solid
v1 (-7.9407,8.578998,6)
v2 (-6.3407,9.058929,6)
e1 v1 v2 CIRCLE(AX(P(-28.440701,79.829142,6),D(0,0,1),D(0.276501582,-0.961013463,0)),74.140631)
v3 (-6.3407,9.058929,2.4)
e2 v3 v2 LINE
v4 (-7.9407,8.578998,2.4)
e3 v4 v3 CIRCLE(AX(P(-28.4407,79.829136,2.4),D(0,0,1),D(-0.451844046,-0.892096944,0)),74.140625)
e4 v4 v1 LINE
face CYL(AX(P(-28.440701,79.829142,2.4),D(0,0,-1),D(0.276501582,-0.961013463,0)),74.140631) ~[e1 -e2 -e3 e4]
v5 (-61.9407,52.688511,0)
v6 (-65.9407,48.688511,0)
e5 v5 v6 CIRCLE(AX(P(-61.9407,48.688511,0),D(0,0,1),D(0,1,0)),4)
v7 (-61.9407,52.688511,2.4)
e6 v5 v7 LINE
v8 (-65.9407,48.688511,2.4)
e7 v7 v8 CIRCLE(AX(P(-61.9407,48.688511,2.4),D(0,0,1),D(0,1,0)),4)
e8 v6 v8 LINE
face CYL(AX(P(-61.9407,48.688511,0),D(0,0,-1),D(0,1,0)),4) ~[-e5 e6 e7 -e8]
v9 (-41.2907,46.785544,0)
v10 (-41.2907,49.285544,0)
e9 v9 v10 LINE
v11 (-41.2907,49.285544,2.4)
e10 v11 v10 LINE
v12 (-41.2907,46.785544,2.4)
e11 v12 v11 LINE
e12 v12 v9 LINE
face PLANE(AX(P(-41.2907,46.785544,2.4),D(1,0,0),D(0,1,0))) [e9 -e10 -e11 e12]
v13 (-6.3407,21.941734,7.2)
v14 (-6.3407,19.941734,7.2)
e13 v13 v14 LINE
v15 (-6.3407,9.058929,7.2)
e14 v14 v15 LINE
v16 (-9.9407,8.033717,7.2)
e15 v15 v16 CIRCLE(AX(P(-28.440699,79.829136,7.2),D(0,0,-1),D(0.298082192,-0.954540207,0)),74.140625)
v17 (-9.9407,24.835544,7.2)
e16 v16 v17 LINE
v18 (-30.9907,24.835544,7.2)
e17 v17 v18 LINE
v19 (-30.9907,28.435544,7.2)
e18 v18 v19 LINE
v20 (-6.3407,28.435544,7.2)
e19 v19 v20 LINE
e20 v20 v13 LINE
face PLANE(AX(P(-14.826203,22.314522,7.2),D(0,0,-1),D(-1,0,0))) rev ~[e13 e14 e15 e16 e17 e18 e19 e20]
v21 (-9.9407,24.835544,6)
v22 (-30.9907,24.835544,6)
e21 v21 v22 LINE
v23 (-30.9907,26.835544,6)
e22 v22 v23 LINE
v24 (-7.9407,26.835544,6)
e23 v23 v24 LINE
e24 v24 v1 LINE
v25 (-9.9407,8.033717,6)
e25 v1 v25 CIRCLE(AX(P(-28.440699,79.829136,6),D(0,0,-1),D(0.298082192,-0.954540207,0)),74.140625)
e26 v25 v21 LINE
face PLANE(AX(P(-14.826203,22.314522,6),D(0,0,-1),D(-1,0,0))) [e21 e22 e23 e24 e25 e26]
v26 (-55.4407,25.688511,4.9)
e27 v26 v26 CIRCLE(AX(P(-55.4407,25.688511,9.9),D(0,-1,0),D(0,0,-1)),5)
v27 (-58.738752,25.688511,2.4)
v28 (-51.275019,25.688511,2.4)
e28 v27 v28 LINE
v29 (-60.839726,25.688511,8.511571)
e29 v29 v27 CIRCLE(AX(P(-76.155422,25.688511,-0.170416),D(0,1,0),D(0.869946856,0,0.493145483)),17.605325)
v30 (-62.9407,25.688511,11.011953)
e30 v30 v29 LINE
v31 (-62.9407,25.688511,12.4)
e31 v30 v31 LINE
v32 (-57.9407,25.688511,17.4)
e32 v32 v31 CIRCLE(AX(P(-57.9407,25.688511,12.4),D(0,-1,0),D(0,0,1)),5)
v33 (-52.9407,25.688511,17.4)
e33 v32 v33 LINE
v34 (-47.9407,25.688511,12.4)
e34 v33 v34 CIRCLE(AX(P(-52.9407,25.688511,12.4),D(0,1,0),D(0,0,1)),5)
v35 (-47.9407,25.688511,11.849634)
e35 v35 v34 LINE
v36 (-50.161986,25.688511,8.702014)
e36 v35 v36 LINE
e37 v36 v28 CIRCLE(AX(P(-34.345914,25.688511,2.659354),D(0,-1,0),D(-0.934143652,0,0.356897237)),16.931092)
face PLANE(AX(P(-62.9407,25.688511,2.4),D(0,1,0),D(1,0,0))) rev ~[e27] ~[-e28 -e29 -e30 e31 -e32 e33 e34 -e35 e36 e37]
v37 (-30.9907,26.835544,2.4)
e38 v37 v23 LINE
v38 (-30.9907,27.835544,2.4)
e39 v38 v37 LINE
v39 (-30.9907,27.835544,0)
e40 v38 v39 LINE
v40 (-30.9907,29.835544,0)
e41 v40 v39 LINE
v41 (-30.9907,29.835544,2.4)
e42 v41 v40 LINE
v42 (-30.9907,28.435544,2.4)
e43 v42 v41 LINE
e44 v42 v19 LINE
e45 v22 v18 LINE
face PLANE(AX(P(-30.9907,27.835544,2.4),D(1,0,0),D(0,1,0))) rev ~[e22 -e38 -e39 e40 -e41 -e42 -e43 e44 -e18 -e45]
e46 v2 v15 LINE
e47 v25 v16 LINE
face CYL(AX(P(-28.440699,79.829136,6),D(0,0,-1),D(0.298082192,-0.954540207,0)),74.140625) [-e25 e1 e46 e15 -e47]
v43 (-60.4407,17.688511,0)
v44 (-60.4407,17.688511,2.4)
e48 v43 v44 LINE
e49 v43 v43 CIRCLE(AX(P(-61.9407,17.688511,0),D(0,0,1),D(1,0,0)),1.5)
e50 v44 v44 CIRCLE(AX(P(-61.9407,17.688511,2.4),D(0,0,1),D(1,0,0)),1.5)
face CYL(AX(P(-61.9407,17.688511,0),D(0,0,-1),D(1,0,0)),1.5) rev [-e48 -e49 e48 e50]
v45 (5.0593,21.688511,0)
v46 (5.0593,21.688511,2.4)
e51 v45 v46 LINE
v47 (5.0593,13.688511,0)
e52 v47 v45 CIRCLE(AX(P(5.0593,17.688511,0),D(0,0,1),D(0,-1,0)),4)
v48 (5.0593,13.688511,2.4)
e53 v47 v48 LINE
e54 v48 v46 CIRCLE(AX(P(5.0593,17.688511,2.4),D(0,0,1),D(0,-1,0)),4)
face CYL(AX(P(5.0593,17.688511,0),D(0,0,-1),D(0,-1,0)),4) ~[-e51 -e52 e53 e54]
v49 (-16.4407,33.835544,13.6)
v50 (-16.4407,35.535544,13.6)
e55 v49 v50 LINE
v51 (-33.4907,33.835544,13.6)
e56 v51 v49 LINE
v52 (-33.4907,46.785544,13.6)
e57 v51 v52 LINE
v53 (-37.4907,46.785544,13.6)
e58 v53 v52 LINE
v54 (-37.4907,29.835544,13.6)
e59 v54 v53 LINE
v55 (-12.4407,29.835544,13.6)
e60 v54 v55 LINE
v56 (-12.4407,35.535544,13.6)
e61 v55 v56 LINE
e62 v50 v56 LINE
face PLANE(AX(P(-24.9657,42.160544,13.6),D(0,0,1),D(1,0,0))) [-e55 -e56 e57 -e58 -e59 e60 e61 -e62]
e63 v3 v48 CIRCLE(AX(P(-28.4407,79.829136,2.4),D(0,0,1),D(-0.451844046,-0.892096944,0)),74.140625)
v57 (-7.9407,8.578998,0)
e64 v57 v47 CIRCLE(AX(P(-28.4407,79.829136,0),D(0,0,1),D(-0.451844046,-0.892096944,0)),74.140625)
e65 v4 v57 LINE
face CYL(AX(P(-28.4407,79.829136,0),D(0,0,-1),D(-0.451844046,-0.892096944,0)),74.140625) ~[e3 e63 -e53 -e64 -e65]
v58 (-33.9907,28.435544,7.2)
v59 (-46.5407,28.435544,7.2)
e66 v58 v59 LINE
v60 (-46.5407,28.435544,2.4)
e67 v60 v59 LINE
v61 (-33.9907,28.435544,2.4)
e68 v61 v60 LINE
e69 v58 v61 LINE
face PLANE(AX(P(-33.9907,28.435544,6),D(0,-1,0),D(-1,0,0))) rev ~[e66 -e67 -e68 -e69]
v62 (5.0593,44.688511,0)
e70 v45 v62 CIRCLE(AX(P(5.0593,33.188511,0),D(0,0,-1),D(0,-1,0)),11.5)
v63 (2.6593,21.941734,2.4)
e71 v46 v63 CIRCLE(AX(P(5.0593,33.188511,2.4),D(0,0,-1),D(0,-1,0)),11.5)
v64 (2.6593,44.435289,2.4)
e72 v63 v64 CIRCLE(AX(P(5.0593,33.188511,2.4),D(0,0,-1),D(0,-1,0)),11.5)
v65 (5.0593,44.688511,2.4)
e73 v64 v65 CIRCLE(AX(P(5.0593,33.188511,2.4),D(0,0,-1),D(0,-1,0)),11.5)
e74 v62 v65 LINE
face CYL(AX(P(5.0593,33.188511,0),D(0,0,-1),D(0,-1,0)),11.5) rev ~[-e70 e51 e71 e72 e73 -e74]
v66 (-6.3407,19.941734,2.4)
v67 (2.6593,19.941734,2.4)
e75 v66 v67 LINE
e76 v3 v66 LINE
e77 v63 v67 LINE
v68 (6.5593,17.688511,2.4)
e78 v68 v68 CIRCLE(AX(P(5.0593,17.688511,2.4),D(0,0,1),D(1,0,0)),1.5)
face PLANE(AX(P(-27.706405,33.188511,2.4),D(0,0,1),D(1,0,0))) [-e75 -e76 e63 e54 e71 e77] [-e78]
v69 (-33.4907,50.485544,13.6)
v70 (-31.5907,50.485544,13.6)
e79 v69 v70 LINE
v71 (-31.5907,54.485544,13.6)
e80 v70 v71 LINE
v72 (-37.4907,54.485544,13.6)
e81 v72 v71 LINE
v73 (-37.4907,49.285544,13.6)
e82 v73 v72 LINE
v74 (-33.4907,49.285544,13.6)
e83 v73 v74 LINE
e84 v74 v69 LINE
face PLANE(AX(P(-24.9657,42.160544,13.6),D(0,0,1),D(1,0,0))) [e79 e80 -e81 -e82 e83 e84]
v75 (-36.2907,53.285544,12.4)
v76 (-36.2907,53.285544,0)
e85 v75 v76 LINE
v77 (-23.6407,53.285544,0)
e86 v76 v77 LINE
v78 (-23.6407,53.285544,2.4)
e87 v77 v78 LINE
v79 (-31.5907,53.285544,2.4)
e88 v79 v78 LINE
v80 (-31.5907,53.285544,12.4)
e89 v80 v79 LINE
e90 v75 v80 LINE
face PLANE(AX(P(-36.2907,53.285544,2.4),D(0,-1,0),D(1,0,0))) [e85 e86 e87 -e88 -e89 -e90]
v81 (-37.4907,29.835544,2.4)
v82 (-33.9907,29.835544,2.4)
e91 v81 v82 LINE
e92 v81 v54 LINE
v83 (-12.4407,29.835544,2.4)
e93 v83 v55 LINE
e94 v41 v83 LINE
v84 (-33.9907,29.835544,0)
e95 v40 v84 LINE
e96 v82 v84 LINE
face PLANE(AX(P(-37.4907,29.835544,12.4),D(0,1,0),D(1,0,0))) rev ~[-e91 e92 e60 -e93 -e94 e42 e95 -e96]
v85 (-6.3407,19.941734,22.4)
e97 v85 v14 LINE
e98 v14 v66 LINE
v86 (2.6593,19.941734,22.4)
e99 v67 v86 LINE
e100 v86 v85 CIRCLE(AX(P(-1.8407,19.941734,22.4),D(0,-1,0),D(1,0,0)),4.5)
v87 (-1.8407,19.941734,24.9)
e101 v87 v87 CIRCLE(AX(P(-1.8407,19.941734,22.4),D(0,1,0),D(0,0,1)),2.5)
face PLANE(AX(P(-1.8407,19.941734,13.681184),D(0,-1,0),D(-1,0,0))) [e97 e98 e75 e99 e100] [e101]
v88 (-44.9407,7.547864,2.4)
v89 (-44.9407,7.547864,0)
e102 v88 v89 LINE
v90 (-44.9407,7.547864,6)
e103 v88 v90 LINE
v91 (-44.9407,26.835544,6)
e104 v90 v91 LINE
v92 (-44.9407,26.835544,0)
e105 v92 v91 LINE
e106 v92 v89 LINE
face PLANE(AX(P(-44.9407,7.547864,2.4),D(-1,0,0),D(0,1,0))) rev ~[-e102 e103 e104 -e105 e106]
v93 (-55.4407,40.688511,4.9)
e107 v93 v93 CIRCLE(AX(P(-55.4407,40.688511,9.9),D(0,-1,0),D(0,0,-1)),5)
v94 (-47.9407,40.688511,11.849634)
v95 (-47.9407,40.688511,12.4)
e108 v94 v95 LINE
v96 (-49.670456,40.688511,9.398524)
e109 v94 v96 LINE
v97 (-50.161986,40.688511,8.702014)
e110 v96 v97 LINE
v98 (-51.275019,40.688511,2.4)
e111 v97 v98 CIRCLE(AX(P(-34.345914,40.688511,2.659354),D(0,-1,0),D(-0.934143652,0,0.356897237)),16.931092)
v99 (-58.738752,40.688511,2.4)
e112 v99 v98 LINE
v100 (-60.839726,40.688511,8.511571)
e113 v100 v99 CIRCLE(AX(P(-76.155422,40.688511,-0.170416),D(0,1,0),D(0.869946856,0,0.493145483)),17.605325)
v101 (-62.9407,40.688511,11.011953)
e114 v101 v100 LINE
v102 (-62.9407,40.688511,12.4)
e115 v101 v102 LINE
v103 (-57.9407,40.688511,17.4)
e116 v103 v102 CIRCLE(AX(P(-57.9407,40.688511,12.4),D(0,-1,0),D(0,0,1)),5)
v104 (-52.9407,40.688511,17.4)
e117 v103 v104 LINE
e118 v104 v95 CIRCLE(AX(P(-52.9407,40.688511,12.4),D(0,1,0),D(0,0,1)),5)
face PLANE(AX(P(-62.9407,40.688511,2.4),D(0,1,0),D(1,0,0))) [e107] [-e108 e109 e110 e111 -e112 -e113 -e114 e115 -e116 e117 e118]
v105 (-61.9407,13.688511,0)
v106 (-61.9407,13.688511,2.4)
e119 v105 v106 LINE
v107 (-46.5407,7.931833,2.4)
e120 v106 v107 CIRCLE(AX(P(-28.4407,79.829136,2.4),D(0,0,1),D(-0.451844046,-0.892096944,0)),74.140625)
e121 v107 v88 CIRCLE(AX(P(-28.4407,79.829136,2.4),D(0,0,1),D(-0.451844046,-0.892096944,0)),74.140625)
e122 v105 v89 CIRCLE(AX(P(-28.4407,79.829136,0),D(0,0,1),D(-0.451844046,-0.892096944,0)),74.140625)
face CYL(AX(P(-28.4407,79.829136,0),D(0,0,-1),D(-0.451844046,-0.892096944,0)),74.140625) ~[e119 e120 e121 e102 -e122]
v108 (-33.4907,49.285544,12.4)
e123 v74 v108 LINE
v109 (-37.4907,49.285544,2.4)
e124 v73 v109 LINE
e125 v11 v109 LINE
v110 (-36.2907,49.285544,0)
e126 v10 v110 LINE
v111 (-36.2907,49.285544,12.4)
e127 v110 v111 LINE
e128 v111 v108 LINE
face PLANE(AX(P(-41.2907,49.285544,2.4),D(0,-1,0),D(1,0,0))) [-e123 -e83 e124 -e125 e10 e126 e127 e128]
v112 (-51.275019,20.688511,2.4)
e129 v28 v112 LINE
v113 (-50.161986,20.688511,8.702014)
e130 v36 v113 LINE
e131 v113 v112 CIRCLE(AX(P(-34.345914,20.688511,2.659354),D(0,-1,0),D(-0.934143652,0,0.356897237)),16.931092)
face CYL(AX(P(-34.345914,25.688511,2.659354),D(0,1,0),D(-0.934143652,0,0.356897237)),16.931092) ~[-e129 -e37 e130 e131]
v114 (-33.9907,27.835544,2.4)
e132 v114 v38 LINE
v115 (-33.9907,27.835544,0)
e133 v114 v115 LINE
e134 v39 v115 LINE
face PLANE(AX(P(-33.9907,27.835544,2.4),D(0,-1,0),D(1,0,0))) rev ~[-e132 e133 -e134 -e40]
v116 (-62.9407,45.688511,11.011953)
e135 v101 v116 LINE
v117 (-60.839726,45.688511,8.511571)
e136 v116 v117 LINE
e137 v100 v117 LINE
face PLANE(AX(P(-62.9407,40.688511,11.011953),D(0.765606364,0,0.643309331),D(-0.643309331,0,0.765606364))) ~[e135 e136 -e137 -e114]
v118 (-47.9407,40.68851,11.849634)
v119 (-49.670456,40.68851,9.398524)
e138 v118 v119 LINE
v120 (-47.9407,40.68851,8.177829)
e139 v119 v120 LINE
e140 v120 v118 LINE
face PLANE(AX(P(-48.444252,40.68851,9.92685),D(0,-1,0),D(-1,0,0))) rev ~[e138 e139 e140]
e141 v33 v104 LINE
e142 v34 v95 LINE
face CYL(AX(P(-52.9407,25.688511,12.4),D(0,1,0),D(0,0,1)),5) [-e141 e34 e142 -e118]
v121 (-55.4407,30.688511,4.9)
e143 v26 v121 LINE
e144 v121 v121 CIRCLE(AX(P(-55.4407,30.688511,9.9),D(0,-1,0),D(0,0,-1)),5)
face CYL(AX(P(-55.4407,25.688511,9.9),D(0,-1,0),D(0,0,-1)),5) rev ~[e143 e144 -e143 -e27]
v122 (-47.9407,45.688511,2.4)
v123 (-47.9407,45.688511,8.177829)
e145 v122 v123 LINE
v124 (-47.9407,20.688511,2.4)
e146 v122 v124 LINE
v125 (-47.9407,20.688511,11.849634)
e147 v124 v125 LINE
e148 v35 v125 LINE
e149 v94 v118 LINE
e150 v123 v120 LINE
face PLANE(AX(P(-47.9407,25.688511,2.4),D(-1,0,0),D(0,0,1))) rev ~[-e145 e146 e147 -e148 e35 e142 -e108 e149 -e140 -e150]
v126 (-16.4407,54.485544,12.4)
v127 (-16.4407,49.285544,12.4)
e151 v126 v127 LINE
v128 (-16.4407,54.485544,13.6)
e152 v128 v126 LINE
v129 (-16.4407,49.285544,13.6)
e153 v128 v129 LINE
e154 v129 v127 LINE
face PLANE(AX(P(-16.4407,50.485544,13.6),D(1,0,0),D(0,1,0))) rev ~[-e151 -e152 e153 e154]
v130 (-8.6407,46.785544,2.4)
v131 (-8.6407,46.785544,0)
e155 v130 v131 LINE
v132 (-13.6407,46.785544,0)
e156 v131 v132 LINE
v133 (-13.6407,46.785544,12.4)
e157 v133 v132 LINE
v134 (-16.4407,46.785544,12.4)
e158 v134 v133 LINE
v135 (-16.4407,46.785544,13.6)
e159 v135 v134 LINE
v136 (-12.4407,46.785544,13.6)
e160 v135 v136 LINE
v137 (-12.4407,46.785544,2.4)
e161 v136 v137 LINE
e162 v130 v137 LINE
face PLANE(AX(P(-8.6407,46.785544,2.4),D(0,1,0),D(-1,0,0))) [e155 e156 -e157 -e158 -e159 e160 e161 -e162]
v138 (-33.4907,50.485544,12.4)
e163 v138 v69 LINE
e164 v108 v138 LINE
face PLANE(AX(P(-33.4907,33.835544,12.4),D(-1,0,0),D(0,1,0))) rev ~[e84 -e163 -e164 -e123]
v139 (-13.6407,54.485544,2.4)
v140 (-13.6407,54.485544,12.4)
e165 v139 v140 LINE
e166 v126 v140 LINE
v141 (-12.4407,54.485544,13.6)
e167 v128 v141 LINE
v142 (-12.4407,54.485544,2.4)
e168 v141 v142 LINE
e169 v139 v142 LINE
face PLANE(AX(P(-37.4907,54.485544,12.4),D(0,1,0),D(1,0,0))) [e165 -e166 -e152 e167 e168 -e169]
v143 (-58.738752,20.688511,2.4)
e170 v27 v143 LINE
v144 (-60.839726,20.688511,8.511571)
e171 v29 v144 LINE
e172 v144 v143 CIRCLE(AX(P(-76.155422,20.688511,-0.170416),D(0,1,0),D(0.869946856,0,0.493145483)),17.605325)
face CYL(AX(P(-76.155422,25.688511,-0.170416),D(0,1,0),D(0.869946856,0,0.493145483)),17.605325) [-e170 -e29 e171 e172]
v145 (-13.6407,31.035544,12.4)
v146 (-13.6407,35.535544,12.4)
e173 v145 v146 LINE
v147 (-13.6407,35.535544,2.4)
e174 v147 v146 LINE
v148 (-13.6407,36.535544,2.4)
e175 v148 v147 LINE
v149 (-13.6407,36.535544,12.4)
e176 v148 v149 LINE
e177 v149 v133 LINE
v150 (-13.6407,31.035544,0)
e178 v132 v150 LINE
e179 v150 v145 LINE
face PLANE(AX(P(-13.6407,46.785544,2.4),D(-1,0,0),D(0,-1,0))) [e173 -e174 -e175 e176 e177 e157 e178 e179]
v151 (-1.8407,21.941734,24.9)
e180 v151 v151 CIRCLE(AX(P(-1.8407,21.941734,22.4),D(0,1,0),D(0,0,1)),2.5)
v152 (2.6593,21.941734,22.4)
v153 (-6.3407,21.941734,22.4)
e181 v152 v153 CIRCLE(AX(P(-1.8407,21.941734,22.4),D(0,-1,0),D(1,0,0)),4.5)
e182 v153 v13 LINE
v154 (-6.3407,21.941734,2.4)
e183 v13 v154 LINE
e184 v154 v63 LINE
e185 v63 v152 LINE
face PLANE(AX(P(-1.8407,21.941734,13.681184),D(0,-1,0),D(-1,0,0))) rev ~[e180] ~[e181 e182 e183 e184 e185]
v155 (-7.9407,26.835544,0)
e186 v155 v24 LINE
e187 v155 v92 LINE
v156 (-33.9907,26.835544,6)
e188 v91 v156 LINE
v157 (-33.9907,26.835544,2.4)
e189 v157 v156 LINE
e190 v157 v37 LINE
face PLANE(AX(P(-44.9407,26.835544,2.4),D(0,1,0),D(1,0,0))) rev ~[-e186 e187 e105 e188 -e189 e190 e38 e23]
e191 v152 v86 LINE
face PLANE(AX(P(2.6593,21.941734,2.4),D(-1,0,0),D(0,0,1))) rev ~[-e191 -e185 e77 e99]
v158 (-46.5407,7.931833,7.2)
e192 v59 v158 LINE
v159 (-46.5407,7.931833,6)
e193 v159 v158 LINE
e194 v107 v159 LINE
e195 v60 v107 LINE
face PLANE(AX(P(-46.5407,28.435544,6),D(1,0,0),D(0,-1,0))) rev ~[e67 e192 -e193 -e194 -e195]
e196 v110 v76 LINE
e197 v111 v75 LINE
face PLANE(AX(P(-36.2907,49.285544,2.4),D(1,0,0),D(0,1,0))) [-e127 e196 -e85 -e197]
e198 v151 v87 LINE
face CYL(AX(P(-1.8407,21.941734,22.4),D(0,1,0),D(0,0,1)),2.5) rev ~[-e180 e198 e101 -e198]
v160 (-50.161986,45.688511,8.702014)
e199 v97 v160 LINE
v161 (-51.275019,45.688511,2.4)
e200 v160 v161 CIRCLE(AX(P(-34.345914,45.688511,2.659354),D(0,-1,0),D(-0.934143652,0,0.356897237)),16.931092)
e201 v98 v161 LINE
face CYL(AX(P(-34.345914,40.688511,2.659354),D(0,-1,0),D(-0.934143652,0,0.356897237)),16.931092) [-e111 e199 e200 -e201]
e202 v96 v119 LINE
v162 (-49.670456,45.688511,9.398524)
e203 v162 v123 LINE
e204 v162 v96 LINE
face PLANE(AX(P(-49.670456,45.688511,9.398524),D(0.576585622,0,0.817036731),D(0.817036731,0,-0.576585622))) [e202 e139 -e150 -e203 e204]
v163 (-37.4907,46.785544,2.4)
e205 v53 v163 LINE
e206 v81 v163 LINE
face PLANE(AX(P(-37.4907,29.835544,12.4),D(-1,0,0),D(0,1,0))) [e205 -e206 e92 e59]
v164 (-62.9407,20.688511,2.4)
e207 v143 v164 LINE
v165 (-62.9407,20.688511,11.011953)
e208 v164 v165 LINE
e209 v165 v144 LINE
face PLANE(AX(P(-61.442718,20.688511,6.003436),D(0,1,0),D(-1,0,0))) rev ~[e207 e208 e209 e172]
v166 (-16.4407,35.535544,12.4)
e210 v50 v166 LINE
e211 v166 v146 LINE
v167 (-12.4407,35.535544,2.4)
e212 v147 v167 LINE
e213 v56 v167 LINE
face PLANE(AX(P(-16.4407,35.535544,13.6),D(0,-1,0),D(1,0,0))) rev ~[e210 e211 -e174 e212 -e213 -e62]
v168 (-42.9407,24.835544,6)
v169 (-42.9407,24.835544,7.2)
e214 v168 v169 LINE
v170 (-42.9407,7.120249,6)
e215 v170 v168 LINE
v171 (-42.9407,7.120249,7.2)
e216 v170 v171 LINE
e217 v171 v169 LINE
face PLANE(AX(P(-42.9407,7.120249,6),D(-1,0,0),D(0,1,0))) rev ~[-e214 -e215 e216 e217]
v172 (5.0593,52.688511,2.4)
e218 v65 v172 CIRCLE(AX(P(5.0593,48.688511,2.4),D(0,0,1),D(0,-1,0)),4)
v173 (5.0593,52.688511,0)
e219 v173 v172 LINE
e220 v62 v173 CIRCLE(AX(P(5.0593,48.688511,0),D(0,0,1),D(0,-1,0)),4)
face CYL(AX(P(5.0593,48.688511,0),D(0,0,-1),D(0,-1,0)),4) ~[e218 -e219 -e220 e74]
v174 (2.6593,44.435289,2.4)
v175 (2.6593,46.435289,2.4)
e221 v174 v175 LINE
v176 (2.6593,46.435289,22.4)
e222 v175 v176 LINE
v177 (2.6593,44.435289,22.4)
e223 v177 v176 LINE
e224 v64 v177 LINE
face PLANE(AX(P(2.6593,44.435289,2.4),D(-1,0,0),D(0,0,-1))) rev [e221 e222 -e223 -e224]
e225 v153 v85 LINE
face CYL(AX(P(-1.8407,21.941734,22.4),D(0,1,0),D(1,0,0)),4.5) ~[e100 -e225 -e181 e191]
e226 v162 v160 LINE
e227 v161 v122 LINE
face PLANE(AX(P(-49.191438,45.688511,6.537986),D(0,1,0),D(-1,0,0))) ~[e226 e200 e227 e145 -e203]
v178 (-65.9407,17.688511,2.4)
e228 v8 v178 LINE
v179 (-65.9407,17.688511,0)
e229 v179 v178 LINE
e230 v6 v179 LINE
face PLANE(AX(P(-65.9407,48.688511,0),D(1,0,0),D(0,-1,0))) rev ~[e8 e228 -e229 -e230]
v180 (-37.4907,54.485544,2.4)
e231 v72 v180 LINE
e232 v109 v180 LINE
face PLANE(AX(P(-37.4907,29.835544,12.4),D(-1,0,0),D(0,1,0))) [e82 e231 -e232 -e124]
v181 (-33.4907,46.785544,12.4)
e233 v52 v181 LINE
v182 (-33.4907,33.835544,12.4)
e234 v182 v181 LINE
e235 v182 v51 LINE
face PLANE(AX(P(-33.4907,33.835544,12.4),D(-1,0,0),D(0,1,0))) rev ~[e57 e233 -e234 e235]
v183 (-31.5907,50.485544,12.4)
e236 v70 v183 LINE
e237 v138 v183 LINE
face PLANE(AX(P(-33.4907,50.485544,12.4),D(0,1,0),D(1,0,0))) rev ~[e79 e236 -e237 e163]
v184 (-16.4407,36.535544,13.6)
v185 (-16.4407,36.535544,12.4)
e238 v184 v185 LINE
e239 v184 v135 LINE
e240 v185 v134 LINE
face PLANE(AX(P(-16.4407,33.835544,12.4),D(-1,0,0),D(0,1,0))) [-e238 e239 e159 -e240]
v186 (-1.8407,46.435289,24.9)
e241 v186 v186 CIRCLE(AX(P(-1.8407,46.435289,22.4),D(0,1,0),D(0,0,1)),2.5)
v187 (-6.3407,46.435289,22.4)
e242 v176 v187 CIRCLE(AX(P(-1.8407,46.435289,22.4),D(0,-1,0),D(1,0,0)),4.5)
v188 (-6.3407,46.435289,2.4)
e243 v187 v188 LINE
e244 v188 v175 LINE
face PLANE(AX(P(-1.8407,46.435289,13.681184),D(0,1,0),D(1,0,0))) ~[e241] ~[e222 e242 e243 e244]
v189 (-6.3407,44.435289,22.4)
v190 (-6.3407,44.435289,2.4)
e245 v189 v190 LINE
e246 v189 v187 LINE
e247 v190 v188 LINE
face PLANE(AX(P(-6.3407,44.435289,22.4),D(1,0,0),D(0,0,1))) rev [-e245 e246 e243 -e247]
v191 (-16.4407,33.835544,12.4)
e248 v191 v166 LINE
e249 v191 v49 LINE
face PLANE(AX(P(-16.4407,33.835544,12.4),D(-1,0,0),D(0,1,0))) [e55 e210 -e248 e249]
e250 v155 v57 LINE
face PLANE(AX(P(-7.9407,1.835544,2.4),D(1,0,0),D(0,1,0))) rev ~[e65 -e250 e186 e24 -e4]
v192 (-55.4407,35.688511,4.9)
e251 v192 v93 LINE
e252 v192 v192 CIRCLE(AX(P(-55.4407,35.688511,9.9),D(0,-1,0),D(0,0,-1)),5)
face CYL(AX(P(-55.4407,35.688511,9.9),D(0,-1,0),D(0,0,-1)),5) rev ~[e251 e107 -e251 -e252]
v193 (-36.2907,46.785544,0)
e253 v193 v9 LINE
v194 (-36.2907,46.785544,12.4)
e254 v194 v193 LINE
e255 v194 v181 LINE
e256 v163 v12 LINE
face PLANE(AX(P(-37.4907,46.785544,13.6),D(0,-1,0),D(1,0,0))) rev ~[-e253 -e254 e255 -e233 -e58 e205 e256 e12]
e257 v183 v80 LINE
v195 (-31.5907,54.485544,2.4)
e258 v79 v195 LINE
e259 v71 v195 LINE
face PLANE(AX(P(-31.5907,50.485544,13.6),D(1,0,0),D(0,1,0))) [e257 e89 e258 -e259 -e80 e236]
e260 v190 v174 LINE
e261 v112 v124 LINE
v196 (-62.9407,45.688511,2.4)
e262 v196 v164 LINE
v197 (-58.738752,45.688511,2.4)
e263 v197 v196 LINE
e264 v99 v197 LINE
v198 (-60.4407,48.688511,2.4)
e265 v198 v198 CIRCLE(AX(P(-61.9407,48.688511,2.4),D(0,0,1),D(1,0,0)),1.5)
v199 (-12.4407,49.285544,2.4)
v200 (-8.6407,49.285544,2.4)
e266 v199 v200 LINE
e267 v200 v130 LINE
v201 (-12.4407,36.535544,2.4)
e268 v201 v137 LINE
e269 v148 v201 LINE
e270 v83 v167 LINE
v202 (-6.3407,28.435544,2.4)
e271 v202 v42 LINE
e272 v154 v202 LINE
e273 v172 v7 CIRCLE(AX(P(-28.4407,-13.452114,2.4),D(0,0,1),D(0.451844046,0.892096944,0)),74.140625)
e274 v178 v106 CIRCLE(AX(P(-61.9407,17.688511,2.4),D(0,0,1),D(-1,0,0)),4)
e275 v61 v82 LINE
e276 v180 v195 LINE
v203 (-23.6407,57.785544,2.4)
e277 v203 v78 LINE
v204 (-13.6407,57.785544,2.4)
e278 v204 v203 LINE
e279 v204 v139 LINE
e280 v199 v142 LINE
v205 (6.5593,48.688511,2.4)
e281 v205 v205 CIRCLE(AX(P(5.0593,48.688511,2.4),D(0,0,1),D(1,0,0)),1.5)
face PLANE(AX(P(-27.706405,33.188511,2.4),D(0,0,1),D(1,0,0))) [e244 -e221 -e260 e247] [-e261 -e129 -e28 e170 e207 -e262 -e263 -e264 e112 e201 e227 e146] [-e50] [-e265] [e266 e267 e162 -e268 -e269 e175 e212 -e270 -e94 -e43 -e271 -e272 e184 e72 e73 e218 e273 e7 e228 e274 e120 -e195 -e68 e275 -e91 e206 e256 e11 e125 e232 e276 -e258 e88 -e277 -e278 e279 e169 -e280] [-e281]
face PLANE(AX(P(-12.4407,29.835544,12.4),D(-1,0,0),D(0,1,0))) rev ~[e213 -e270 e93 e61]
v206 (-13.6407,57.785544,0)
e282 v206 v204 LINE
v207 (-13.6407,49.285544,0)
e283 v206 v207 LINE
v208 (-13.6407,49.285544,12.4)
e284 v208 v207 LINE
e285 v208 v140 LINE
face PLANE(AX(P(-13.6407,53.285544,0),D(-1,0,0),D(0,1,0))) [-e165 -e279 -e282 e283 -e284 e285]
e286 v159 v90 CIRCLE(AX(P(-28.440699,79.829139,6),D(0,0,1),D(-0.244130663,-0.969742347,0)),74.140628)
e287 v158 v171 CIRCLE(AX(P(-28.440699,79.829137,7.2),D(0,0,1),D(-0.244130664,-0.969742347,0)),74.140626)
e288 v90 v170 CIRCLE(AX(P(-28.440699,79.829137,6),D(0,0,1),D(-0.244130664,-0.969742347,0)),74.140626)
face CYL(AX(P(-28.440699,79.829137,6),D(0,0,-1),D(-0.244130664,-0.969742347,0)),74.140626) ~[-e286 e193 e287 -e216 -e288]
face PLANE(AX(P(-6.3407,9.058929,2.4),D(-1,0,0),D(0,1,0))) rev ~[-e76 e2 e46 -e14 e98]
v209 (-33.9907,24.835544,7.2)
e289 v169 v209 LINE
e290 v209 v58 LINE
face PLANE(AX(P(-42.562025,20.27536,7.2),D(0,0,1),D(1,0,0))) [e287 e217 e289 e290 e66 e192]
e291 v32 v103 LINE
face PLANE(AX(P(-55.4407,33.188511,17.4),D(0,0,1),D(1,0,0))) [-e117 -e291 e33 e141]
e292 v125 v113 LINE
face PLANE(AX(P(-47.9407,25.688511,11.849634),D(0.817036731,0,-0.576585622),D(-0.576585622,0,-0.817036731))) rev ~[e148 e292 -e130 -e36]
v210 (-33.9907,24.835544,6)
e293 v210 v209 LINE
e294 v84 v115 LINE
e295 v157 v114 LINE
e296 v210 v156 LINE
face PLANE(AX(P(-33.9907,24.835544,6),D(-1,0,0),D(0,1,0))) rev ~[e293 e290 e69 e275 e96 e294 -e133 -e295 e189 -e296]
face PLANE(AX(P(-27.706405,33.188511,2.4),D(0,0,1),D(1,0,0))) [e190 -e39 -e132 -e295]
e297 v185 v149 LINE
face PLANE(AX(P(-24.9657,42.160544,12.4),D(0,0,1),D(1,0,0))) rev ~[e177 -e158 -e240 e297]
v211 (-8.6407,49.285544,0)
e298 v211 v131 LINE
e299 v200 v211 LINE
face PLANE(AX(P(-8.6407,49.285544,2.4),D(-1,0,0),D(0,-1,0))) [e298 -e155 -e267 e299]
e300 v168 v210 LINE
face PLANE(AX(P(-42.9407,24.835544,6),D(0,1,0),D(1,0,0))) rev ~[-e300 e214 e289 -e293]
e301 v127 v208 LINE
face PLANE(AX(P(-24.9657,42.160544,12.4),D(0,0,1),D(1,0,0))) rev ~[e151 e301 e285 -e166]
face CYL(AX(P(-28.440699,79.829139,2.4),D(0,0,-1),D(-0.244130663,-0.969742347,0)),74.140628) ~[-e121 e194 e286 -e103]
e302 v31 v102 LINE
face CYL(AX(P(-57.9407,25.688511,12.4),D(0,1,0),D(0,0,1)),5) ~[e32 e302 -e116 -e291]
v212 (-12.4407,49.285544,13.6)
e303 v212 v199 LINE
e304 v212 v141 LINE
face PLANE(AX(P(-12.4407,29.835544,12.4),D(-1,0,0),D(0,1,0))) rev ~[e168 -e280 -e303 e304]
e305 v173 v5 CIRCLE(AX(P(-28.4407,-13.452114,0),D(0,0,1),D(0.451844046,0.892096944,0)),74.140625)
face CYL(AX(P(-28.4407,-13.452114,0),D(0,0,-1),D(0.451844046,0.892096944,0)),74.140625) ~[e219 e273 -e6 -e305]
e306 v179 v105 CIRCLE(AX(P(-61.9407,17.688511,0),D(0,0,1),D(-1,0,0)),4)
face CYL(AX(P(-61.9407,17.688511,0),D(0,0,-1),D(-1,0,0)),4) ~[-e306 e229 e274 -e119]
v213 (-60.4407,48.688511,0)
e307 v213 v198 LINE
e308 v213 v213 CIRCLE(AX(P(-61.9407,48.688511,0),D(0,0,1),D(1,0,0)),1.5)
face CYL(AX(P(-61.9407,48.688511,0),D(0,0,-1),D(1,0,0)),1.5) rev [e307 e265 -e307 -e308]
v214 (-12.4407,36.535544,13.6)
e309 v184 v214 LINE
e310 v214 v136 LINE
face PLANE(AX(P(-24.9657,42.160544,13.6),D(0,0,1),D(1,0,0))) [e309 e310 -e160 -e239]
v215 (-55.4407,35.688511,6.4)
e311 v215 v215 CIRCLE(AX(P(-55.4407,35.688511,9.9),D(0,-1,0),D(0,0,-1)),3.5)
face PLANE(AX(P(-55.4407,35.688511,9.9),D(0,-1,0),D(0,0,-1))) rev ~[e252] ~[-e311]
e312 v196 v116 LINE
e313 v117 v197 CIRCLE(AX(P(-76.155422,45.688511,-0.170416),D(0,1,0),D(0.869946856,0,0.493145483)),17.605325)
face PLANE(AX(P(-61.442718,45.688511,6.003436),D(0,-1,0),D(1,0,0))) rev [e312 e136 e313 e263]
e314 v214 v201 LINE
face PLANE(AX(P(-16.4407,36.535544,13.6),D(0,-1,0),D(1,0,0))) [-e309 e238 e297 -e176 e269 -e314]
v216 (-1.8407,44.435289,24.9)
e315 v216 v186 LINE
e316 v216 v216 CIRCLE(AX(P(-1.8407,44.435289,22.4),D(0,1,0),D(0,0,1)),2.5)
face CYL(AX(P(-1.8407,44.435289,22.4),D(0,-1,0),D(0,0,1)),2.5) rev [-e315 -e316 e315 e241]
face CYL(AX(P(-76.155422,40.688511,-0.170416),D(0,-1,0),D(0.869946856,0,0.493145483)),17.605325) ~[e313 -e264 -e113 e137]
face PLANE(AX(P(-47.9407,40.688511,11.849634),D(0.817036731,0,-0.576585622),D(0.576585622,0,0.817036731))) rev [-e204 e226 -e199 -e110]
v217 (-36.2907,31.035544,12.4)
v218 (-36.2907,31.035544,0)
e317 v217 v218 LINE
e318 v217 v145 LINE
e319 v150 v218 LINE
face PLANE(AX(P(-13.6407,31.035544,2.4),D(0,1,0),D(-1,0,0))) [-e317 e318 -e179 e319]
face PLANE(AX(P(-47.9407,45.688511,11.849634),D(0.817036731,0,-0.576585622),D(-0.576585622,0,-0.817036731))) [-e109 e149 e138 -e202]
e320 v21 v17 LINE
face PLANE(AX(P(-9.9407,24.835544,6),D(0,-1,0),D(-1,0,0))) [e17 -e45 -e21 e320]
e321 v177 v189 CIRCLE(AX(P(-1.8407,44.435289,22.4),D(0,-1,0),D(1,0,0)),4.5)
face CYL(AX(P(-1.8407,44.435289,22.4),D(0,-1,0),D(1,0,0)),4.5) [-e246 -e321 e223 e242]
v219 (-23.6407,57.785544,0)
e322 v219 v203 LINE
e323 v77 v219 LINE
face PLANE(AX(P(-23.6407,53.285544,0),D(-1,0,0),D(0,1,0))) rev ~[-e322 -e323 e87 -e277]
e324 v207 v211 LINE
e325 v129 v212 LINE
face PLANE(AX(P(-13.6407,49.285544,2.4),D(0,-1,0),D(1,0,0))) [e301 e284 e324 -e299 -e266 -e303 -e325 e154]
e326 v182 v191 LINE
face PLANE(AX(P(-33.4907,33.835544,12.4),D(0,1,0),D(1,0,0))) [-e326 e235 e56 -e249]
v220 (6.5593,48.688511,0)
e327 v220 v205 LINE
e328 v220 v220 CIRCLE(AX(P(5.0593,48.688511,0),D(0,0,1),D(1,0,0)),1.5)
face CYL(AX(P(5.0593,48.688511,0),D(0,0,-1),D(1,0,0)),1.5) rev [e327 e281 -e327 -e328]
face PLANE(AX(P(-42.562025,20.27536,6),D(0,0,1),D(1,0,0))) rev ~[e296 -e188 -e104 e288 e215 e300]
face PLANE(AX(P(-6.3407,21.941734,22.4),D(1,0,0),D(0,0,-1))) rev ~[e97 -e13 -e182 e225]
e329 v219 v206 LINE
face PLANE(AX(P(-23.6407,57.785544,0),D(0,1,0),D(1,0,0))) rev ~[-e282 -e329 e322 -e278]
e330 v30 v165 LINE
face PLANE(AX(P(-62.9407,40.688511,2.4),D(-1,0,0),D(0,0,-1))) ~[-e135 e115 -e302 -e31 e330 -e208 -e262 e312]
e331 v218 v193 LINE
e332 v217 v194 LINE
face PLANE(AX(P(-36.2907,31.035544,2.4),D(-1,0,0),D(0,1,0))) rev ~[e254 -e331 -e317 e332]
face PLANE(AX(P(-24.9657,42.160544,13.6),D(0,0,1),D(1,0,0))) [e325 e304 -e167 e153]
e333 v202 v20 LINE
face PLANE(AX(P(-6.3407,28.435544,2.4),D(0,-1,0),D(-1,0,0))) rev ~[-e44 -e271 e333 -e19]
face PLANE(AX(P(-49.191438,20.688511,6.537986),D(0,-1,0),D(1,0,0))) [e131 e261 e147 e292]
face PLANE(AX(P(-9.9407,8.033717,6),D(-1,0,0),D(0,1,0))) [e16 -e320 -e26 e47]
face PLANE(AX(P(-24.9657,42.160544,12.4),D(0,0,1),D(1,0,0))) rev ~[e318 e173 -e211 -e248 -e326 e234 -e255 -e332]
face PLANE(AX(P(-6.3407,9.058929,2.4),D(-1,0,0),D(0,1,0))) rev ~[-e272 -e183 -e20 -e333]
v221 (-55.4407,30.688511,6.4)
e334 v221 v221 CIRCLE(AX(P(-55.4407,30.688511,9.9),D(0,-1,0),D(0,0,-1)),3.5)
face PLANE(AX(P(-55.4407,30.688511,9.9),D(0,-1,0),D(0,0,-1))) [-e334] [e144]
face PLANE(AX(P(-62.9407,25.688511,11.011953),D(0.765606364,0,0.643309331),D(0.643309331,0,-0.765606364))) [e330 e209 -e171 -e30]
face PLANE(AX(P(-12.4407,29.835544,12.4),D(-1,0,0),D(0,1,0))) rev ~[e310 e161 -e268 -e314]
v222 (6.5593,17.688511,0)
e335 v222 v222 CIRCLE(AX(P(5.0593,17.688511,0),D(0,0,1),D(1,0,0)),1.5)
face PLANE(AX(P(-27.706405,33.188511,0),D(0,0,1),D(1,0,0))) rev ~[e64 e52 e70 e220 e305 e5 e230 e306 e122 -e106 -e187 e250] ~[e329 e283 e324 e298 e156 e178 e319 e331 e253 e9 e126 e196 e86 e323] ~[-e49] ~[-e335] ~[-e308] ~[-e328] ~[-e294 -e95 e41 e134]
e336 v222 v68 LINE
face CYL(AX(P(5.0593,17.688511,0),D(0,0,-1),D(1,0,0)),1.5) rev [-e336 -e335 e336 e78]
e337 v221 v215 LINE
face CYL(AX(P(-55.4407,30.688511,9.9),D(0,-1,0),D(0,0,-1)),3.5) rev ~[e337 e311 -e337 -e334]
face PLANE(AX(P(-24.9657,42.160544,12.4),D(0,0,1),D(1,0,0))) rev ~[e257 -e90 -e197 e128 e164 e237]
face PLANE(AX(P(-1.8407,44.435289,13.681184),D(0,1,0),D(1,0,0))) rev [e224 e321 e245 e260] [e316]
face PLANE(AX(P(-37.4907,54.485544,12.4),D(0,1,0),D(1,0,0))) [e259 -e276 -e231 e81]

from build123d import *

# Parameters (mm, degrees)
CROQUIS1_R                 = 1.5
SALIENTE_EXTRUIR1_DEPTH    = 2.4
CROQUIS3_W                 = 25.05
CROQUIS3_H                 = 24.65
CROQUIS3_W_2               = 22.65
CROQUIS3_H_2               = 22.25
SALIENTE_EXTRUIR2_DEPTH    = 10
CROQUIS4_W                 = 25.05
CROQUIS4_H                 = 24.65
CROQUIS4_W_2               = 17.05
CROQUIS4_H_2               = 16.65
SALIENTE_EXTRUIR3_DEPTH    = 1.2
CROQUIS5_W                 = 4
CROQUIS5_H                 = 2.5
CROQUIS5_W_2               = 15.15
CROQUIS5_H_2               = 4
CROQUIS5_H_3               = 1
CORTAR_EXTRUIR1_DEPTH      = 11.2
CROQUIS8_W                 = 15
CROQUIS8_H                 = 15
SALIENTE_EXTRUIR5_DEPTH    = 15
CROQUIS10_R                = 5
CORTAR_EXTRUIR2_DEPTH      = 5
CORTAR_EXTRUIR3_START      = -10
CROQUIS10_2_R              = 5
CORTAR_EXTRUIR3_DEPTH      = 5
CROQUIS11_R                = 3.5
CORTAR_EXTRUIR4_DEPTH      = 5
CORTAR_EXTRUIR5_DEPTH      = 2.4
CORTAR_EXTRUIR6_DEPTH      = 10
CORTAR_EXTRUIR6_DEPTH_BACK = 2.4
CROQUIS13_W                = 10
CROQUIS13_H                = 4.5
REDONDEO1_R                = 5
CORTAR_EXTRUIR7_REACH      = 92.864
CROQUIS14_W                = 37
CROQUIS14_H                = 25
CROQUIS14_W_2              = 3
CROQUIS14_H_2              = 2
SALIENTE_EXTRUIR6_DEPTH    = 3.6
SALIENTE_EXTRUIR7_DEPTH    = 1.2
SALIENTE_EXTRUIR8_DEPTH    = 5
CORTAR_EXTRUIR8_DEPTH      = 5.000001
CROQUIS25_R                = 2.5
SALIENTE_EXTRUIR9_DEPTH    = 2


with BuildPart() as part:
    # Croquis1 → Saliente-Extruir1 (new body)
    with BuildSketch(Plane.XY):
        with BuildLine():
            Line((-65.940699516, 48.688511327), (-65.940699516, 17.688511327))
            ThreePointArc((-65.940699516, 17.688511327), (-64.76912664, 14.860084202), (-61.940699516, 13.688511327))
            ThreePointArc((-61.940699516, 13.688511327), (-28.440699516, 5.688511327), (5.059300484, 13.688511327))
            ThreePointArc((5.059300484, 13.688511327), (9.059300484, 17.688511327), (5.059300484, 21.688511327))
            ThreePointArc((5.059300484, 21.688511327), (-6.440699516, 33.188511327), (5.059300484, 44.688511327))
            ThreePointArc((5.059300484, 44.688511327), (9.059300484, 48.688511327), (5.059300484, 52.688511327))
            ThreePointArc((5.059300484, 52.688511327), (-28.440699516, 60.688511327), (-61.940699516, 52.688511327))
            ThreePointArc((-61.940699516, 52.688511327), (-64.76912664, 51.516938452), (-65.940699516, 48.688511327))
        make_face()
        with Locations((-61.940699516, 48.688511327)):
            Circle(CROQUIS1_R, mode=Mode.SUBTRACT)
        with Locations((5.059300484, 48.688511327)):
            Circle(CROQUIS1_R, mode=Mode.SUBTRACT)
        with Locations((5.059300484, 17.688511327)):
            Circle(CROQUIS1_R, mode=Mode.SUBTRACT)
        with Locations((-61.940699516, 17.688511327)):
            Circle(CROQUIS1_R, mode=Mode.SUBTRACT)
    extrude(amount=SALIENTE_EXTRUIR1_DEPTH)

    # Croquis3 → Saliente-Extruir2 (add)
    with BuildSketch(Plane.XY.offset(2.4)):
        with Locations((-24.965699516, 42.160543548)):
            Rectangle(CROQUIS3_W, CROQUIS3_H)
        with Locations((-24.965699516, 42.160543548)):
            Rectangle(CROQUIS3_W_2, CROQUIS3_H_2, mode=Mode.SUBTRACT)
    extrude(amount=SALIENTE_EXTRUIR2_DEPTH)

    # Croquis4 → Saliente-Extruir3 (add)
    with BuildSketch(Plane.XY.offset(12.4)):
        with Locations((-24.965699516, 42.160543548)):
            Rectangle(CROQUIS4_W, CROQUIS4_H)
        with Locations((-24.965699516, 42.160543548)):
            Rectangle(CROQUIS4_W_2, CROQUIS4_H_2, mode=Mode.SUBTRACT)
    extrude(amount=SALIENTE_EXTRUIR3_DEPTH)

    # Croquis5 → Cortar-Extruir1 (cut)
    with BuildSketch(Plane.XY.offset(13.6)):
        with Locations((-35.490699516, 48.035543548)):
            Rectangle(CROQUIS5_W, CROQUIS5_H)
        with Locations((-24.015699516, 52.485543548)):
            Rectangle(CROQUIS5_W_2, CROQUIS5_H_2)
        with Locations((-14.440699516, 36.035543548)):
            Rectangle(CROQUIS5_W, CROQUIS5_H_3)
        with Locations((-14.440699516, 48.035543548)):
            Rectangle(CROQUIS5_W, CROQUIS5_H)
    extrude(amount=-CORTAR_EXTRUIR1_DEPTH, mode=Mode.SUBTRACT)

    # Croquis8 → Saliente-Extruir5 (add)
    with BuildSketch(Plane.XY.offset(2.4)):
        with Locations((-55.440699516, 33.188511327)):
            Rectangle(CROQUIS8_W, CROQUIS8_H)
    extrude(amount=SALIENTE_EXTRUIR5_DEPTH)

    # Croquis10 → Cortar-Extruir2 (cut)
    with BuildSketch(Plane.XZ.offset(-25.688511327)):
        with Locations(Location((-55.440699516, 9.9, 0), (0, 0, 270))):
            Circle(CROQUIS10_R)
    extrude(amount=-CORTAR_EXTRUIR2_DEPTH, mode=Mode.SUBTRACT)

    # Croquis10<2> → Cortar-Extruir3 (cut)
    with BuildSketch(Plane.XZ.offset(-25.688511327).offset(CORTAR_EXTRUIR3_START)):
        with Locations(Location((-55.440699516, 9.9, 0), (0, 0, 270))):
            Circle(CROQUIS10_2_R)
    extrude(amount=-CORTAR_EXTRUIR3_DEPTH, mode=Mode.SUBTRACT)

    # Croquis11 → Cortar-Extruir4 (cut)
    with BuildSketch(Plane.XZ.offset(-30.688511327)):
        with Locations(Location((-55.440699516, 9.9, 0), (0, 0, 270))):
            Circle(CROQUIS11_R)
    extrude(amount=-CORTAR_EXTRUIR4_DEPTH, mode=Mode.SUBTRACT)

    # Croquis12 → Cortar-Extruir5 (cut)
    with BuildSketch(Plane.XY.offset(2.4)):
        Polygon((-36.290699516, 53.285543548), (-13.640699516, 53.285543548), (-13.640699516, 49.285543548), (-8.640699516, 49.285543548), (-8.640699516, 46.785543548), (-13.640699516, 46.785543548), (-13.640699516, 31.035543548), (-36.290699516, 31.035543548), (-36.290699516, 46.785543548), (-41.290699516, 46.785543548), (-41.290699516, 49.285543548), (-36.290699516, 49.285543548), align=None)
    extrude(amount=-CORTAR_EXTRUIR5_DEPTH, mode=Mode.SUBTRACT)

    # Croquis13 → Cortar-Extruir6 (cut, two sides: drawn at the far end of the back side and taken through both)
    with BuildSketch(Plane.XY.offset(2.4).offset(-CORTAR_EXTRUIR6_DEPTH_BACK)):
        with Locations((-18.640699516, 55.535543548)):
            Rectangle(CROQUIS13_W, CROQUIS13_H)
    extrude(amount=CORTAR_EXTRUIR6_DEPTH + CORTAR_EXTRUIR6_DEPTH_BACK, mode=Mode.SUBTRACT)

    # Redondeo1
    redondeo1_edges = [part.edges().sort_by_distance(p)[0] for p in [
        (-62.940699516, 33.188511327, 17.4),
        (-47.940699516, 33.188511327, 17.4),
    ]]
    fillet(redondeo1_edges, radius=REDONDEO1_R)

    # Croquis14 → Cortar-Extruir7 (cut, up to next)
    with BuildSketch(Plane.XY.offset(2.4), mode=Mode.PRIVATE) as cortar_extruir7_sk1:
        with Locations((-26.440699516, 14.335543548)):
            Rectangle(CROQUIS14_W, CROQUIS14_H)
    cortar_extruir7_tool1 = extrude(cortar_extruir7_sk1.sketch, amount=-CORTAR_EXTRUIR7_REACH, mode=Mode.PRIVATE) & part.part
    # Croquis14 → Cortar-Extruir7 (cut, up to next)
    with BuildSketch(Plane.XY.offset(2.4), mode=Mode.PRIVATE) as cortar_extruir7_sk2:
        with Locations((-32.490699516, 28.835543548)):
            Rectangle(CROQUIS14_W_2, CROQUIS14_H_2)
    cortar_extruir7_tool2 = extrude(cortar_extruir7_sk2.sketch, amount=-CORTAR_EXTRUIR7_REACH, mode=Mode.PRIVATE) & part.part
    add(cortar_extruir7_tool1.solids().sort_by_distance((-26.4407, 14.335544, 2.4))[0], mode=Mode.SUBTRACT)
    add(cortar_extruir7_tool2.solids().sort_by_distance((-32.4907, 28.835544, 2.4))[0], mode=Mode.SUBTRACT)

    # Croquis15 → Saliente-Extruir6 (add)
    with BuildSketch(Plane.XY.offset(2.4)):
        with BuildLine():
            Line((-44.940699516, 7.547864372), (-44.940699516, 26.835543548))
            Line((-44.940699516, 26.835543548), (-33.990699516, 26.835543548))
            Line((-33.990699516, 26.835543548), (-33.990699516, 28.435543548))
            Line((-33.990699516, 28.435543548), (-46.540699516, 28.435543548))
            Line((-46.540699516, 28.435543548), (-46.540699516, 7.931832654))
            ThreePointArc((-46.540699516, 7.931832654), (-45.74176474, 7.73540971), (-44.940699516, 7.547864372))
        make_face()
        with BuildLine():
            Line((-7.940699516, 26.835543548), (-7.940699516, 8.578997552))
            ThreePointArc((-7.940699516, 8.578997552), (-7.139347833, 8.814456916), (-6.340699516, 9.058928786))
            Line((-6.340699516, 9.058928786), (-6.340699516, 28.435543548))
            Line((-6.340699516, 28.435543548), (-30.990699516, 28.435543548))
            Line((-30.990699516, 28.435543548), (-30.990699516, 26.835543548))
            Line((-30.990699516, 26.835543548), (-7.940699516, 26.835543548))
        make_face()
    extrude(amount=SALIENTE_EXTRUIR6_DEPTH)

    # Croquis16 → Saliente-Extruir7 (add)
    with BuildSketch(Plane.XY.offset(6)):
        with BuildLine():
            Line((-33.990699516, 28.435543548), (-46.540699516, 28.435543548))
            Line((-46.540699516, 28.435543548), (-46.540699516, 7.931832654))
            ThreePointArc((-46.540699516, 7.931832654), (-44.745749867, 7.50363869), (-42.940699516, 7.120249144))
            Line((-42.940699516, 7.120249144), (-42.940699516, 24.835543548))
            Line((-42.940699516, 24.835543548), (-33.990699516, 24.835543548))
            Line((-33.990699516, 24.835543548), (-33.990699516, 28.435543548))
        make_face()
        with BuildLine():
            Line((-30.990699516, 28.435543548), (-6.340699516, 28.435543548))
            Line((-6.340699516, 28.435543548), (-6.340699516, 9.058928786))
            ThreePointArc((-6.340699516, 9.058928786), (-8.134228504, 8.523600003), (-9.940699516, 8.033716728))
            Line((-9.940699516, 8.033716728), (-9.940699516, 24.835543548))
            Line((-9.940699516, 24.835543548), (-30.990699516, 24.835543548))
            Line((-30.990699516, 24.835543548), (-30.990699516, 28.435543548))
        make_face()
    extrude(amount=SALIENTE_EXTRUIR7_DEPTH)

    # Croquis20 → Saliente-Extruir8 (add)
    with BuildSketch(Plane.XZ.offset(-25.688511327)):
        with BuildLine():
            Line((-62.940699516, 2.4), (-62.940699516, 11.011952661))
            Line((-62.940699516, 11.011952661), (-60.839725603, 8.511570775))
            ThreePointArc((-60.839725603, 8.511570775), (-59.506404562, 5.553015225), (-58.73875169, 2.4))
            Line((-58.73875169, 2.4), (-62.940699516, 2.4))
        make_face()
        with BuildLine():
            Line((-47.940699516, 2.4), (-47.940699516, 11.849634175))
            Line((-47.940699516, 11.849634175), (-50.161985782, 8.702014116))
            ThreePointArc((-50.161985782, 8.702014116), (-51.018961055, 5.604072702), (-51.275019132, 2.4))
            Line((-51.275019132, 2.4), (-47.940699516, 2.4))
        make_face()
    saliente_extruir8 = extrude(amount=SALIENTE_EXTRUIR8_DEPTH)

    # Simetría1: Saliente-Extruir8 across plane
    add(saliente_extruir8.mirror(Plane(origin=(0, 33.188511327, 0), x_dir=(0, 0, 1), z_dir=(0, -1, 0))))

    # Croquis22 → Cortar-Extruir8 (cut)
    with BuildSketch(Plane(origin=(0, 45.688511327, 0), x_dir=(1, 0, 0), z_dir=(0, 1, 0))):
        Polygon((-47.940699516, -11.849634175), (-49.670456383, -9.398523981), (-47.940699516, -8.17782863), align=None)
    extrude(amount=-CORTAR_EXTRUIR8_DEPTH, mode=Mode.SUBTRACT)

    # Croquis25 → Saliente-Extruir9 (add)
    with BuildSketch(Plane(origin=(0, 21.941734011, 0), x_dir=(1, 0, 0), z_dir=(0, 1, 0))):
        with BuildLine():
            Line((-6.340699516, -22.4), (-6.340699516, -2.4))
            Line((-6.340699516, -2.4), (2.659300484, -2.4))
            Line((2.659300484, -2.4), (2.659300484, -22.4))
            ThreePointArc((2.659300484, -22.4), (-1.840699516, -26.9), (-6.340699516, -22.4))
        make_face()
        with Locations(Location((-1.840699516, -22.4, 0), (0, 0, 270))):
            Circle(CROQUIS25_R, mode=Mode.SUBTRACT)
    saliente_extruir9 = extrude(amount=-SALIENTE_EXTRUIR9_DEPTH)

    # Simetría2: Saliente-Extruir9 across plane
    add(saliente_extruir9.mirror(Plane(origin=(0, 33.188511327, 0), x_dir=(0, 0, 1), z_dir=(0, -1, 0))))


solid = part.part
